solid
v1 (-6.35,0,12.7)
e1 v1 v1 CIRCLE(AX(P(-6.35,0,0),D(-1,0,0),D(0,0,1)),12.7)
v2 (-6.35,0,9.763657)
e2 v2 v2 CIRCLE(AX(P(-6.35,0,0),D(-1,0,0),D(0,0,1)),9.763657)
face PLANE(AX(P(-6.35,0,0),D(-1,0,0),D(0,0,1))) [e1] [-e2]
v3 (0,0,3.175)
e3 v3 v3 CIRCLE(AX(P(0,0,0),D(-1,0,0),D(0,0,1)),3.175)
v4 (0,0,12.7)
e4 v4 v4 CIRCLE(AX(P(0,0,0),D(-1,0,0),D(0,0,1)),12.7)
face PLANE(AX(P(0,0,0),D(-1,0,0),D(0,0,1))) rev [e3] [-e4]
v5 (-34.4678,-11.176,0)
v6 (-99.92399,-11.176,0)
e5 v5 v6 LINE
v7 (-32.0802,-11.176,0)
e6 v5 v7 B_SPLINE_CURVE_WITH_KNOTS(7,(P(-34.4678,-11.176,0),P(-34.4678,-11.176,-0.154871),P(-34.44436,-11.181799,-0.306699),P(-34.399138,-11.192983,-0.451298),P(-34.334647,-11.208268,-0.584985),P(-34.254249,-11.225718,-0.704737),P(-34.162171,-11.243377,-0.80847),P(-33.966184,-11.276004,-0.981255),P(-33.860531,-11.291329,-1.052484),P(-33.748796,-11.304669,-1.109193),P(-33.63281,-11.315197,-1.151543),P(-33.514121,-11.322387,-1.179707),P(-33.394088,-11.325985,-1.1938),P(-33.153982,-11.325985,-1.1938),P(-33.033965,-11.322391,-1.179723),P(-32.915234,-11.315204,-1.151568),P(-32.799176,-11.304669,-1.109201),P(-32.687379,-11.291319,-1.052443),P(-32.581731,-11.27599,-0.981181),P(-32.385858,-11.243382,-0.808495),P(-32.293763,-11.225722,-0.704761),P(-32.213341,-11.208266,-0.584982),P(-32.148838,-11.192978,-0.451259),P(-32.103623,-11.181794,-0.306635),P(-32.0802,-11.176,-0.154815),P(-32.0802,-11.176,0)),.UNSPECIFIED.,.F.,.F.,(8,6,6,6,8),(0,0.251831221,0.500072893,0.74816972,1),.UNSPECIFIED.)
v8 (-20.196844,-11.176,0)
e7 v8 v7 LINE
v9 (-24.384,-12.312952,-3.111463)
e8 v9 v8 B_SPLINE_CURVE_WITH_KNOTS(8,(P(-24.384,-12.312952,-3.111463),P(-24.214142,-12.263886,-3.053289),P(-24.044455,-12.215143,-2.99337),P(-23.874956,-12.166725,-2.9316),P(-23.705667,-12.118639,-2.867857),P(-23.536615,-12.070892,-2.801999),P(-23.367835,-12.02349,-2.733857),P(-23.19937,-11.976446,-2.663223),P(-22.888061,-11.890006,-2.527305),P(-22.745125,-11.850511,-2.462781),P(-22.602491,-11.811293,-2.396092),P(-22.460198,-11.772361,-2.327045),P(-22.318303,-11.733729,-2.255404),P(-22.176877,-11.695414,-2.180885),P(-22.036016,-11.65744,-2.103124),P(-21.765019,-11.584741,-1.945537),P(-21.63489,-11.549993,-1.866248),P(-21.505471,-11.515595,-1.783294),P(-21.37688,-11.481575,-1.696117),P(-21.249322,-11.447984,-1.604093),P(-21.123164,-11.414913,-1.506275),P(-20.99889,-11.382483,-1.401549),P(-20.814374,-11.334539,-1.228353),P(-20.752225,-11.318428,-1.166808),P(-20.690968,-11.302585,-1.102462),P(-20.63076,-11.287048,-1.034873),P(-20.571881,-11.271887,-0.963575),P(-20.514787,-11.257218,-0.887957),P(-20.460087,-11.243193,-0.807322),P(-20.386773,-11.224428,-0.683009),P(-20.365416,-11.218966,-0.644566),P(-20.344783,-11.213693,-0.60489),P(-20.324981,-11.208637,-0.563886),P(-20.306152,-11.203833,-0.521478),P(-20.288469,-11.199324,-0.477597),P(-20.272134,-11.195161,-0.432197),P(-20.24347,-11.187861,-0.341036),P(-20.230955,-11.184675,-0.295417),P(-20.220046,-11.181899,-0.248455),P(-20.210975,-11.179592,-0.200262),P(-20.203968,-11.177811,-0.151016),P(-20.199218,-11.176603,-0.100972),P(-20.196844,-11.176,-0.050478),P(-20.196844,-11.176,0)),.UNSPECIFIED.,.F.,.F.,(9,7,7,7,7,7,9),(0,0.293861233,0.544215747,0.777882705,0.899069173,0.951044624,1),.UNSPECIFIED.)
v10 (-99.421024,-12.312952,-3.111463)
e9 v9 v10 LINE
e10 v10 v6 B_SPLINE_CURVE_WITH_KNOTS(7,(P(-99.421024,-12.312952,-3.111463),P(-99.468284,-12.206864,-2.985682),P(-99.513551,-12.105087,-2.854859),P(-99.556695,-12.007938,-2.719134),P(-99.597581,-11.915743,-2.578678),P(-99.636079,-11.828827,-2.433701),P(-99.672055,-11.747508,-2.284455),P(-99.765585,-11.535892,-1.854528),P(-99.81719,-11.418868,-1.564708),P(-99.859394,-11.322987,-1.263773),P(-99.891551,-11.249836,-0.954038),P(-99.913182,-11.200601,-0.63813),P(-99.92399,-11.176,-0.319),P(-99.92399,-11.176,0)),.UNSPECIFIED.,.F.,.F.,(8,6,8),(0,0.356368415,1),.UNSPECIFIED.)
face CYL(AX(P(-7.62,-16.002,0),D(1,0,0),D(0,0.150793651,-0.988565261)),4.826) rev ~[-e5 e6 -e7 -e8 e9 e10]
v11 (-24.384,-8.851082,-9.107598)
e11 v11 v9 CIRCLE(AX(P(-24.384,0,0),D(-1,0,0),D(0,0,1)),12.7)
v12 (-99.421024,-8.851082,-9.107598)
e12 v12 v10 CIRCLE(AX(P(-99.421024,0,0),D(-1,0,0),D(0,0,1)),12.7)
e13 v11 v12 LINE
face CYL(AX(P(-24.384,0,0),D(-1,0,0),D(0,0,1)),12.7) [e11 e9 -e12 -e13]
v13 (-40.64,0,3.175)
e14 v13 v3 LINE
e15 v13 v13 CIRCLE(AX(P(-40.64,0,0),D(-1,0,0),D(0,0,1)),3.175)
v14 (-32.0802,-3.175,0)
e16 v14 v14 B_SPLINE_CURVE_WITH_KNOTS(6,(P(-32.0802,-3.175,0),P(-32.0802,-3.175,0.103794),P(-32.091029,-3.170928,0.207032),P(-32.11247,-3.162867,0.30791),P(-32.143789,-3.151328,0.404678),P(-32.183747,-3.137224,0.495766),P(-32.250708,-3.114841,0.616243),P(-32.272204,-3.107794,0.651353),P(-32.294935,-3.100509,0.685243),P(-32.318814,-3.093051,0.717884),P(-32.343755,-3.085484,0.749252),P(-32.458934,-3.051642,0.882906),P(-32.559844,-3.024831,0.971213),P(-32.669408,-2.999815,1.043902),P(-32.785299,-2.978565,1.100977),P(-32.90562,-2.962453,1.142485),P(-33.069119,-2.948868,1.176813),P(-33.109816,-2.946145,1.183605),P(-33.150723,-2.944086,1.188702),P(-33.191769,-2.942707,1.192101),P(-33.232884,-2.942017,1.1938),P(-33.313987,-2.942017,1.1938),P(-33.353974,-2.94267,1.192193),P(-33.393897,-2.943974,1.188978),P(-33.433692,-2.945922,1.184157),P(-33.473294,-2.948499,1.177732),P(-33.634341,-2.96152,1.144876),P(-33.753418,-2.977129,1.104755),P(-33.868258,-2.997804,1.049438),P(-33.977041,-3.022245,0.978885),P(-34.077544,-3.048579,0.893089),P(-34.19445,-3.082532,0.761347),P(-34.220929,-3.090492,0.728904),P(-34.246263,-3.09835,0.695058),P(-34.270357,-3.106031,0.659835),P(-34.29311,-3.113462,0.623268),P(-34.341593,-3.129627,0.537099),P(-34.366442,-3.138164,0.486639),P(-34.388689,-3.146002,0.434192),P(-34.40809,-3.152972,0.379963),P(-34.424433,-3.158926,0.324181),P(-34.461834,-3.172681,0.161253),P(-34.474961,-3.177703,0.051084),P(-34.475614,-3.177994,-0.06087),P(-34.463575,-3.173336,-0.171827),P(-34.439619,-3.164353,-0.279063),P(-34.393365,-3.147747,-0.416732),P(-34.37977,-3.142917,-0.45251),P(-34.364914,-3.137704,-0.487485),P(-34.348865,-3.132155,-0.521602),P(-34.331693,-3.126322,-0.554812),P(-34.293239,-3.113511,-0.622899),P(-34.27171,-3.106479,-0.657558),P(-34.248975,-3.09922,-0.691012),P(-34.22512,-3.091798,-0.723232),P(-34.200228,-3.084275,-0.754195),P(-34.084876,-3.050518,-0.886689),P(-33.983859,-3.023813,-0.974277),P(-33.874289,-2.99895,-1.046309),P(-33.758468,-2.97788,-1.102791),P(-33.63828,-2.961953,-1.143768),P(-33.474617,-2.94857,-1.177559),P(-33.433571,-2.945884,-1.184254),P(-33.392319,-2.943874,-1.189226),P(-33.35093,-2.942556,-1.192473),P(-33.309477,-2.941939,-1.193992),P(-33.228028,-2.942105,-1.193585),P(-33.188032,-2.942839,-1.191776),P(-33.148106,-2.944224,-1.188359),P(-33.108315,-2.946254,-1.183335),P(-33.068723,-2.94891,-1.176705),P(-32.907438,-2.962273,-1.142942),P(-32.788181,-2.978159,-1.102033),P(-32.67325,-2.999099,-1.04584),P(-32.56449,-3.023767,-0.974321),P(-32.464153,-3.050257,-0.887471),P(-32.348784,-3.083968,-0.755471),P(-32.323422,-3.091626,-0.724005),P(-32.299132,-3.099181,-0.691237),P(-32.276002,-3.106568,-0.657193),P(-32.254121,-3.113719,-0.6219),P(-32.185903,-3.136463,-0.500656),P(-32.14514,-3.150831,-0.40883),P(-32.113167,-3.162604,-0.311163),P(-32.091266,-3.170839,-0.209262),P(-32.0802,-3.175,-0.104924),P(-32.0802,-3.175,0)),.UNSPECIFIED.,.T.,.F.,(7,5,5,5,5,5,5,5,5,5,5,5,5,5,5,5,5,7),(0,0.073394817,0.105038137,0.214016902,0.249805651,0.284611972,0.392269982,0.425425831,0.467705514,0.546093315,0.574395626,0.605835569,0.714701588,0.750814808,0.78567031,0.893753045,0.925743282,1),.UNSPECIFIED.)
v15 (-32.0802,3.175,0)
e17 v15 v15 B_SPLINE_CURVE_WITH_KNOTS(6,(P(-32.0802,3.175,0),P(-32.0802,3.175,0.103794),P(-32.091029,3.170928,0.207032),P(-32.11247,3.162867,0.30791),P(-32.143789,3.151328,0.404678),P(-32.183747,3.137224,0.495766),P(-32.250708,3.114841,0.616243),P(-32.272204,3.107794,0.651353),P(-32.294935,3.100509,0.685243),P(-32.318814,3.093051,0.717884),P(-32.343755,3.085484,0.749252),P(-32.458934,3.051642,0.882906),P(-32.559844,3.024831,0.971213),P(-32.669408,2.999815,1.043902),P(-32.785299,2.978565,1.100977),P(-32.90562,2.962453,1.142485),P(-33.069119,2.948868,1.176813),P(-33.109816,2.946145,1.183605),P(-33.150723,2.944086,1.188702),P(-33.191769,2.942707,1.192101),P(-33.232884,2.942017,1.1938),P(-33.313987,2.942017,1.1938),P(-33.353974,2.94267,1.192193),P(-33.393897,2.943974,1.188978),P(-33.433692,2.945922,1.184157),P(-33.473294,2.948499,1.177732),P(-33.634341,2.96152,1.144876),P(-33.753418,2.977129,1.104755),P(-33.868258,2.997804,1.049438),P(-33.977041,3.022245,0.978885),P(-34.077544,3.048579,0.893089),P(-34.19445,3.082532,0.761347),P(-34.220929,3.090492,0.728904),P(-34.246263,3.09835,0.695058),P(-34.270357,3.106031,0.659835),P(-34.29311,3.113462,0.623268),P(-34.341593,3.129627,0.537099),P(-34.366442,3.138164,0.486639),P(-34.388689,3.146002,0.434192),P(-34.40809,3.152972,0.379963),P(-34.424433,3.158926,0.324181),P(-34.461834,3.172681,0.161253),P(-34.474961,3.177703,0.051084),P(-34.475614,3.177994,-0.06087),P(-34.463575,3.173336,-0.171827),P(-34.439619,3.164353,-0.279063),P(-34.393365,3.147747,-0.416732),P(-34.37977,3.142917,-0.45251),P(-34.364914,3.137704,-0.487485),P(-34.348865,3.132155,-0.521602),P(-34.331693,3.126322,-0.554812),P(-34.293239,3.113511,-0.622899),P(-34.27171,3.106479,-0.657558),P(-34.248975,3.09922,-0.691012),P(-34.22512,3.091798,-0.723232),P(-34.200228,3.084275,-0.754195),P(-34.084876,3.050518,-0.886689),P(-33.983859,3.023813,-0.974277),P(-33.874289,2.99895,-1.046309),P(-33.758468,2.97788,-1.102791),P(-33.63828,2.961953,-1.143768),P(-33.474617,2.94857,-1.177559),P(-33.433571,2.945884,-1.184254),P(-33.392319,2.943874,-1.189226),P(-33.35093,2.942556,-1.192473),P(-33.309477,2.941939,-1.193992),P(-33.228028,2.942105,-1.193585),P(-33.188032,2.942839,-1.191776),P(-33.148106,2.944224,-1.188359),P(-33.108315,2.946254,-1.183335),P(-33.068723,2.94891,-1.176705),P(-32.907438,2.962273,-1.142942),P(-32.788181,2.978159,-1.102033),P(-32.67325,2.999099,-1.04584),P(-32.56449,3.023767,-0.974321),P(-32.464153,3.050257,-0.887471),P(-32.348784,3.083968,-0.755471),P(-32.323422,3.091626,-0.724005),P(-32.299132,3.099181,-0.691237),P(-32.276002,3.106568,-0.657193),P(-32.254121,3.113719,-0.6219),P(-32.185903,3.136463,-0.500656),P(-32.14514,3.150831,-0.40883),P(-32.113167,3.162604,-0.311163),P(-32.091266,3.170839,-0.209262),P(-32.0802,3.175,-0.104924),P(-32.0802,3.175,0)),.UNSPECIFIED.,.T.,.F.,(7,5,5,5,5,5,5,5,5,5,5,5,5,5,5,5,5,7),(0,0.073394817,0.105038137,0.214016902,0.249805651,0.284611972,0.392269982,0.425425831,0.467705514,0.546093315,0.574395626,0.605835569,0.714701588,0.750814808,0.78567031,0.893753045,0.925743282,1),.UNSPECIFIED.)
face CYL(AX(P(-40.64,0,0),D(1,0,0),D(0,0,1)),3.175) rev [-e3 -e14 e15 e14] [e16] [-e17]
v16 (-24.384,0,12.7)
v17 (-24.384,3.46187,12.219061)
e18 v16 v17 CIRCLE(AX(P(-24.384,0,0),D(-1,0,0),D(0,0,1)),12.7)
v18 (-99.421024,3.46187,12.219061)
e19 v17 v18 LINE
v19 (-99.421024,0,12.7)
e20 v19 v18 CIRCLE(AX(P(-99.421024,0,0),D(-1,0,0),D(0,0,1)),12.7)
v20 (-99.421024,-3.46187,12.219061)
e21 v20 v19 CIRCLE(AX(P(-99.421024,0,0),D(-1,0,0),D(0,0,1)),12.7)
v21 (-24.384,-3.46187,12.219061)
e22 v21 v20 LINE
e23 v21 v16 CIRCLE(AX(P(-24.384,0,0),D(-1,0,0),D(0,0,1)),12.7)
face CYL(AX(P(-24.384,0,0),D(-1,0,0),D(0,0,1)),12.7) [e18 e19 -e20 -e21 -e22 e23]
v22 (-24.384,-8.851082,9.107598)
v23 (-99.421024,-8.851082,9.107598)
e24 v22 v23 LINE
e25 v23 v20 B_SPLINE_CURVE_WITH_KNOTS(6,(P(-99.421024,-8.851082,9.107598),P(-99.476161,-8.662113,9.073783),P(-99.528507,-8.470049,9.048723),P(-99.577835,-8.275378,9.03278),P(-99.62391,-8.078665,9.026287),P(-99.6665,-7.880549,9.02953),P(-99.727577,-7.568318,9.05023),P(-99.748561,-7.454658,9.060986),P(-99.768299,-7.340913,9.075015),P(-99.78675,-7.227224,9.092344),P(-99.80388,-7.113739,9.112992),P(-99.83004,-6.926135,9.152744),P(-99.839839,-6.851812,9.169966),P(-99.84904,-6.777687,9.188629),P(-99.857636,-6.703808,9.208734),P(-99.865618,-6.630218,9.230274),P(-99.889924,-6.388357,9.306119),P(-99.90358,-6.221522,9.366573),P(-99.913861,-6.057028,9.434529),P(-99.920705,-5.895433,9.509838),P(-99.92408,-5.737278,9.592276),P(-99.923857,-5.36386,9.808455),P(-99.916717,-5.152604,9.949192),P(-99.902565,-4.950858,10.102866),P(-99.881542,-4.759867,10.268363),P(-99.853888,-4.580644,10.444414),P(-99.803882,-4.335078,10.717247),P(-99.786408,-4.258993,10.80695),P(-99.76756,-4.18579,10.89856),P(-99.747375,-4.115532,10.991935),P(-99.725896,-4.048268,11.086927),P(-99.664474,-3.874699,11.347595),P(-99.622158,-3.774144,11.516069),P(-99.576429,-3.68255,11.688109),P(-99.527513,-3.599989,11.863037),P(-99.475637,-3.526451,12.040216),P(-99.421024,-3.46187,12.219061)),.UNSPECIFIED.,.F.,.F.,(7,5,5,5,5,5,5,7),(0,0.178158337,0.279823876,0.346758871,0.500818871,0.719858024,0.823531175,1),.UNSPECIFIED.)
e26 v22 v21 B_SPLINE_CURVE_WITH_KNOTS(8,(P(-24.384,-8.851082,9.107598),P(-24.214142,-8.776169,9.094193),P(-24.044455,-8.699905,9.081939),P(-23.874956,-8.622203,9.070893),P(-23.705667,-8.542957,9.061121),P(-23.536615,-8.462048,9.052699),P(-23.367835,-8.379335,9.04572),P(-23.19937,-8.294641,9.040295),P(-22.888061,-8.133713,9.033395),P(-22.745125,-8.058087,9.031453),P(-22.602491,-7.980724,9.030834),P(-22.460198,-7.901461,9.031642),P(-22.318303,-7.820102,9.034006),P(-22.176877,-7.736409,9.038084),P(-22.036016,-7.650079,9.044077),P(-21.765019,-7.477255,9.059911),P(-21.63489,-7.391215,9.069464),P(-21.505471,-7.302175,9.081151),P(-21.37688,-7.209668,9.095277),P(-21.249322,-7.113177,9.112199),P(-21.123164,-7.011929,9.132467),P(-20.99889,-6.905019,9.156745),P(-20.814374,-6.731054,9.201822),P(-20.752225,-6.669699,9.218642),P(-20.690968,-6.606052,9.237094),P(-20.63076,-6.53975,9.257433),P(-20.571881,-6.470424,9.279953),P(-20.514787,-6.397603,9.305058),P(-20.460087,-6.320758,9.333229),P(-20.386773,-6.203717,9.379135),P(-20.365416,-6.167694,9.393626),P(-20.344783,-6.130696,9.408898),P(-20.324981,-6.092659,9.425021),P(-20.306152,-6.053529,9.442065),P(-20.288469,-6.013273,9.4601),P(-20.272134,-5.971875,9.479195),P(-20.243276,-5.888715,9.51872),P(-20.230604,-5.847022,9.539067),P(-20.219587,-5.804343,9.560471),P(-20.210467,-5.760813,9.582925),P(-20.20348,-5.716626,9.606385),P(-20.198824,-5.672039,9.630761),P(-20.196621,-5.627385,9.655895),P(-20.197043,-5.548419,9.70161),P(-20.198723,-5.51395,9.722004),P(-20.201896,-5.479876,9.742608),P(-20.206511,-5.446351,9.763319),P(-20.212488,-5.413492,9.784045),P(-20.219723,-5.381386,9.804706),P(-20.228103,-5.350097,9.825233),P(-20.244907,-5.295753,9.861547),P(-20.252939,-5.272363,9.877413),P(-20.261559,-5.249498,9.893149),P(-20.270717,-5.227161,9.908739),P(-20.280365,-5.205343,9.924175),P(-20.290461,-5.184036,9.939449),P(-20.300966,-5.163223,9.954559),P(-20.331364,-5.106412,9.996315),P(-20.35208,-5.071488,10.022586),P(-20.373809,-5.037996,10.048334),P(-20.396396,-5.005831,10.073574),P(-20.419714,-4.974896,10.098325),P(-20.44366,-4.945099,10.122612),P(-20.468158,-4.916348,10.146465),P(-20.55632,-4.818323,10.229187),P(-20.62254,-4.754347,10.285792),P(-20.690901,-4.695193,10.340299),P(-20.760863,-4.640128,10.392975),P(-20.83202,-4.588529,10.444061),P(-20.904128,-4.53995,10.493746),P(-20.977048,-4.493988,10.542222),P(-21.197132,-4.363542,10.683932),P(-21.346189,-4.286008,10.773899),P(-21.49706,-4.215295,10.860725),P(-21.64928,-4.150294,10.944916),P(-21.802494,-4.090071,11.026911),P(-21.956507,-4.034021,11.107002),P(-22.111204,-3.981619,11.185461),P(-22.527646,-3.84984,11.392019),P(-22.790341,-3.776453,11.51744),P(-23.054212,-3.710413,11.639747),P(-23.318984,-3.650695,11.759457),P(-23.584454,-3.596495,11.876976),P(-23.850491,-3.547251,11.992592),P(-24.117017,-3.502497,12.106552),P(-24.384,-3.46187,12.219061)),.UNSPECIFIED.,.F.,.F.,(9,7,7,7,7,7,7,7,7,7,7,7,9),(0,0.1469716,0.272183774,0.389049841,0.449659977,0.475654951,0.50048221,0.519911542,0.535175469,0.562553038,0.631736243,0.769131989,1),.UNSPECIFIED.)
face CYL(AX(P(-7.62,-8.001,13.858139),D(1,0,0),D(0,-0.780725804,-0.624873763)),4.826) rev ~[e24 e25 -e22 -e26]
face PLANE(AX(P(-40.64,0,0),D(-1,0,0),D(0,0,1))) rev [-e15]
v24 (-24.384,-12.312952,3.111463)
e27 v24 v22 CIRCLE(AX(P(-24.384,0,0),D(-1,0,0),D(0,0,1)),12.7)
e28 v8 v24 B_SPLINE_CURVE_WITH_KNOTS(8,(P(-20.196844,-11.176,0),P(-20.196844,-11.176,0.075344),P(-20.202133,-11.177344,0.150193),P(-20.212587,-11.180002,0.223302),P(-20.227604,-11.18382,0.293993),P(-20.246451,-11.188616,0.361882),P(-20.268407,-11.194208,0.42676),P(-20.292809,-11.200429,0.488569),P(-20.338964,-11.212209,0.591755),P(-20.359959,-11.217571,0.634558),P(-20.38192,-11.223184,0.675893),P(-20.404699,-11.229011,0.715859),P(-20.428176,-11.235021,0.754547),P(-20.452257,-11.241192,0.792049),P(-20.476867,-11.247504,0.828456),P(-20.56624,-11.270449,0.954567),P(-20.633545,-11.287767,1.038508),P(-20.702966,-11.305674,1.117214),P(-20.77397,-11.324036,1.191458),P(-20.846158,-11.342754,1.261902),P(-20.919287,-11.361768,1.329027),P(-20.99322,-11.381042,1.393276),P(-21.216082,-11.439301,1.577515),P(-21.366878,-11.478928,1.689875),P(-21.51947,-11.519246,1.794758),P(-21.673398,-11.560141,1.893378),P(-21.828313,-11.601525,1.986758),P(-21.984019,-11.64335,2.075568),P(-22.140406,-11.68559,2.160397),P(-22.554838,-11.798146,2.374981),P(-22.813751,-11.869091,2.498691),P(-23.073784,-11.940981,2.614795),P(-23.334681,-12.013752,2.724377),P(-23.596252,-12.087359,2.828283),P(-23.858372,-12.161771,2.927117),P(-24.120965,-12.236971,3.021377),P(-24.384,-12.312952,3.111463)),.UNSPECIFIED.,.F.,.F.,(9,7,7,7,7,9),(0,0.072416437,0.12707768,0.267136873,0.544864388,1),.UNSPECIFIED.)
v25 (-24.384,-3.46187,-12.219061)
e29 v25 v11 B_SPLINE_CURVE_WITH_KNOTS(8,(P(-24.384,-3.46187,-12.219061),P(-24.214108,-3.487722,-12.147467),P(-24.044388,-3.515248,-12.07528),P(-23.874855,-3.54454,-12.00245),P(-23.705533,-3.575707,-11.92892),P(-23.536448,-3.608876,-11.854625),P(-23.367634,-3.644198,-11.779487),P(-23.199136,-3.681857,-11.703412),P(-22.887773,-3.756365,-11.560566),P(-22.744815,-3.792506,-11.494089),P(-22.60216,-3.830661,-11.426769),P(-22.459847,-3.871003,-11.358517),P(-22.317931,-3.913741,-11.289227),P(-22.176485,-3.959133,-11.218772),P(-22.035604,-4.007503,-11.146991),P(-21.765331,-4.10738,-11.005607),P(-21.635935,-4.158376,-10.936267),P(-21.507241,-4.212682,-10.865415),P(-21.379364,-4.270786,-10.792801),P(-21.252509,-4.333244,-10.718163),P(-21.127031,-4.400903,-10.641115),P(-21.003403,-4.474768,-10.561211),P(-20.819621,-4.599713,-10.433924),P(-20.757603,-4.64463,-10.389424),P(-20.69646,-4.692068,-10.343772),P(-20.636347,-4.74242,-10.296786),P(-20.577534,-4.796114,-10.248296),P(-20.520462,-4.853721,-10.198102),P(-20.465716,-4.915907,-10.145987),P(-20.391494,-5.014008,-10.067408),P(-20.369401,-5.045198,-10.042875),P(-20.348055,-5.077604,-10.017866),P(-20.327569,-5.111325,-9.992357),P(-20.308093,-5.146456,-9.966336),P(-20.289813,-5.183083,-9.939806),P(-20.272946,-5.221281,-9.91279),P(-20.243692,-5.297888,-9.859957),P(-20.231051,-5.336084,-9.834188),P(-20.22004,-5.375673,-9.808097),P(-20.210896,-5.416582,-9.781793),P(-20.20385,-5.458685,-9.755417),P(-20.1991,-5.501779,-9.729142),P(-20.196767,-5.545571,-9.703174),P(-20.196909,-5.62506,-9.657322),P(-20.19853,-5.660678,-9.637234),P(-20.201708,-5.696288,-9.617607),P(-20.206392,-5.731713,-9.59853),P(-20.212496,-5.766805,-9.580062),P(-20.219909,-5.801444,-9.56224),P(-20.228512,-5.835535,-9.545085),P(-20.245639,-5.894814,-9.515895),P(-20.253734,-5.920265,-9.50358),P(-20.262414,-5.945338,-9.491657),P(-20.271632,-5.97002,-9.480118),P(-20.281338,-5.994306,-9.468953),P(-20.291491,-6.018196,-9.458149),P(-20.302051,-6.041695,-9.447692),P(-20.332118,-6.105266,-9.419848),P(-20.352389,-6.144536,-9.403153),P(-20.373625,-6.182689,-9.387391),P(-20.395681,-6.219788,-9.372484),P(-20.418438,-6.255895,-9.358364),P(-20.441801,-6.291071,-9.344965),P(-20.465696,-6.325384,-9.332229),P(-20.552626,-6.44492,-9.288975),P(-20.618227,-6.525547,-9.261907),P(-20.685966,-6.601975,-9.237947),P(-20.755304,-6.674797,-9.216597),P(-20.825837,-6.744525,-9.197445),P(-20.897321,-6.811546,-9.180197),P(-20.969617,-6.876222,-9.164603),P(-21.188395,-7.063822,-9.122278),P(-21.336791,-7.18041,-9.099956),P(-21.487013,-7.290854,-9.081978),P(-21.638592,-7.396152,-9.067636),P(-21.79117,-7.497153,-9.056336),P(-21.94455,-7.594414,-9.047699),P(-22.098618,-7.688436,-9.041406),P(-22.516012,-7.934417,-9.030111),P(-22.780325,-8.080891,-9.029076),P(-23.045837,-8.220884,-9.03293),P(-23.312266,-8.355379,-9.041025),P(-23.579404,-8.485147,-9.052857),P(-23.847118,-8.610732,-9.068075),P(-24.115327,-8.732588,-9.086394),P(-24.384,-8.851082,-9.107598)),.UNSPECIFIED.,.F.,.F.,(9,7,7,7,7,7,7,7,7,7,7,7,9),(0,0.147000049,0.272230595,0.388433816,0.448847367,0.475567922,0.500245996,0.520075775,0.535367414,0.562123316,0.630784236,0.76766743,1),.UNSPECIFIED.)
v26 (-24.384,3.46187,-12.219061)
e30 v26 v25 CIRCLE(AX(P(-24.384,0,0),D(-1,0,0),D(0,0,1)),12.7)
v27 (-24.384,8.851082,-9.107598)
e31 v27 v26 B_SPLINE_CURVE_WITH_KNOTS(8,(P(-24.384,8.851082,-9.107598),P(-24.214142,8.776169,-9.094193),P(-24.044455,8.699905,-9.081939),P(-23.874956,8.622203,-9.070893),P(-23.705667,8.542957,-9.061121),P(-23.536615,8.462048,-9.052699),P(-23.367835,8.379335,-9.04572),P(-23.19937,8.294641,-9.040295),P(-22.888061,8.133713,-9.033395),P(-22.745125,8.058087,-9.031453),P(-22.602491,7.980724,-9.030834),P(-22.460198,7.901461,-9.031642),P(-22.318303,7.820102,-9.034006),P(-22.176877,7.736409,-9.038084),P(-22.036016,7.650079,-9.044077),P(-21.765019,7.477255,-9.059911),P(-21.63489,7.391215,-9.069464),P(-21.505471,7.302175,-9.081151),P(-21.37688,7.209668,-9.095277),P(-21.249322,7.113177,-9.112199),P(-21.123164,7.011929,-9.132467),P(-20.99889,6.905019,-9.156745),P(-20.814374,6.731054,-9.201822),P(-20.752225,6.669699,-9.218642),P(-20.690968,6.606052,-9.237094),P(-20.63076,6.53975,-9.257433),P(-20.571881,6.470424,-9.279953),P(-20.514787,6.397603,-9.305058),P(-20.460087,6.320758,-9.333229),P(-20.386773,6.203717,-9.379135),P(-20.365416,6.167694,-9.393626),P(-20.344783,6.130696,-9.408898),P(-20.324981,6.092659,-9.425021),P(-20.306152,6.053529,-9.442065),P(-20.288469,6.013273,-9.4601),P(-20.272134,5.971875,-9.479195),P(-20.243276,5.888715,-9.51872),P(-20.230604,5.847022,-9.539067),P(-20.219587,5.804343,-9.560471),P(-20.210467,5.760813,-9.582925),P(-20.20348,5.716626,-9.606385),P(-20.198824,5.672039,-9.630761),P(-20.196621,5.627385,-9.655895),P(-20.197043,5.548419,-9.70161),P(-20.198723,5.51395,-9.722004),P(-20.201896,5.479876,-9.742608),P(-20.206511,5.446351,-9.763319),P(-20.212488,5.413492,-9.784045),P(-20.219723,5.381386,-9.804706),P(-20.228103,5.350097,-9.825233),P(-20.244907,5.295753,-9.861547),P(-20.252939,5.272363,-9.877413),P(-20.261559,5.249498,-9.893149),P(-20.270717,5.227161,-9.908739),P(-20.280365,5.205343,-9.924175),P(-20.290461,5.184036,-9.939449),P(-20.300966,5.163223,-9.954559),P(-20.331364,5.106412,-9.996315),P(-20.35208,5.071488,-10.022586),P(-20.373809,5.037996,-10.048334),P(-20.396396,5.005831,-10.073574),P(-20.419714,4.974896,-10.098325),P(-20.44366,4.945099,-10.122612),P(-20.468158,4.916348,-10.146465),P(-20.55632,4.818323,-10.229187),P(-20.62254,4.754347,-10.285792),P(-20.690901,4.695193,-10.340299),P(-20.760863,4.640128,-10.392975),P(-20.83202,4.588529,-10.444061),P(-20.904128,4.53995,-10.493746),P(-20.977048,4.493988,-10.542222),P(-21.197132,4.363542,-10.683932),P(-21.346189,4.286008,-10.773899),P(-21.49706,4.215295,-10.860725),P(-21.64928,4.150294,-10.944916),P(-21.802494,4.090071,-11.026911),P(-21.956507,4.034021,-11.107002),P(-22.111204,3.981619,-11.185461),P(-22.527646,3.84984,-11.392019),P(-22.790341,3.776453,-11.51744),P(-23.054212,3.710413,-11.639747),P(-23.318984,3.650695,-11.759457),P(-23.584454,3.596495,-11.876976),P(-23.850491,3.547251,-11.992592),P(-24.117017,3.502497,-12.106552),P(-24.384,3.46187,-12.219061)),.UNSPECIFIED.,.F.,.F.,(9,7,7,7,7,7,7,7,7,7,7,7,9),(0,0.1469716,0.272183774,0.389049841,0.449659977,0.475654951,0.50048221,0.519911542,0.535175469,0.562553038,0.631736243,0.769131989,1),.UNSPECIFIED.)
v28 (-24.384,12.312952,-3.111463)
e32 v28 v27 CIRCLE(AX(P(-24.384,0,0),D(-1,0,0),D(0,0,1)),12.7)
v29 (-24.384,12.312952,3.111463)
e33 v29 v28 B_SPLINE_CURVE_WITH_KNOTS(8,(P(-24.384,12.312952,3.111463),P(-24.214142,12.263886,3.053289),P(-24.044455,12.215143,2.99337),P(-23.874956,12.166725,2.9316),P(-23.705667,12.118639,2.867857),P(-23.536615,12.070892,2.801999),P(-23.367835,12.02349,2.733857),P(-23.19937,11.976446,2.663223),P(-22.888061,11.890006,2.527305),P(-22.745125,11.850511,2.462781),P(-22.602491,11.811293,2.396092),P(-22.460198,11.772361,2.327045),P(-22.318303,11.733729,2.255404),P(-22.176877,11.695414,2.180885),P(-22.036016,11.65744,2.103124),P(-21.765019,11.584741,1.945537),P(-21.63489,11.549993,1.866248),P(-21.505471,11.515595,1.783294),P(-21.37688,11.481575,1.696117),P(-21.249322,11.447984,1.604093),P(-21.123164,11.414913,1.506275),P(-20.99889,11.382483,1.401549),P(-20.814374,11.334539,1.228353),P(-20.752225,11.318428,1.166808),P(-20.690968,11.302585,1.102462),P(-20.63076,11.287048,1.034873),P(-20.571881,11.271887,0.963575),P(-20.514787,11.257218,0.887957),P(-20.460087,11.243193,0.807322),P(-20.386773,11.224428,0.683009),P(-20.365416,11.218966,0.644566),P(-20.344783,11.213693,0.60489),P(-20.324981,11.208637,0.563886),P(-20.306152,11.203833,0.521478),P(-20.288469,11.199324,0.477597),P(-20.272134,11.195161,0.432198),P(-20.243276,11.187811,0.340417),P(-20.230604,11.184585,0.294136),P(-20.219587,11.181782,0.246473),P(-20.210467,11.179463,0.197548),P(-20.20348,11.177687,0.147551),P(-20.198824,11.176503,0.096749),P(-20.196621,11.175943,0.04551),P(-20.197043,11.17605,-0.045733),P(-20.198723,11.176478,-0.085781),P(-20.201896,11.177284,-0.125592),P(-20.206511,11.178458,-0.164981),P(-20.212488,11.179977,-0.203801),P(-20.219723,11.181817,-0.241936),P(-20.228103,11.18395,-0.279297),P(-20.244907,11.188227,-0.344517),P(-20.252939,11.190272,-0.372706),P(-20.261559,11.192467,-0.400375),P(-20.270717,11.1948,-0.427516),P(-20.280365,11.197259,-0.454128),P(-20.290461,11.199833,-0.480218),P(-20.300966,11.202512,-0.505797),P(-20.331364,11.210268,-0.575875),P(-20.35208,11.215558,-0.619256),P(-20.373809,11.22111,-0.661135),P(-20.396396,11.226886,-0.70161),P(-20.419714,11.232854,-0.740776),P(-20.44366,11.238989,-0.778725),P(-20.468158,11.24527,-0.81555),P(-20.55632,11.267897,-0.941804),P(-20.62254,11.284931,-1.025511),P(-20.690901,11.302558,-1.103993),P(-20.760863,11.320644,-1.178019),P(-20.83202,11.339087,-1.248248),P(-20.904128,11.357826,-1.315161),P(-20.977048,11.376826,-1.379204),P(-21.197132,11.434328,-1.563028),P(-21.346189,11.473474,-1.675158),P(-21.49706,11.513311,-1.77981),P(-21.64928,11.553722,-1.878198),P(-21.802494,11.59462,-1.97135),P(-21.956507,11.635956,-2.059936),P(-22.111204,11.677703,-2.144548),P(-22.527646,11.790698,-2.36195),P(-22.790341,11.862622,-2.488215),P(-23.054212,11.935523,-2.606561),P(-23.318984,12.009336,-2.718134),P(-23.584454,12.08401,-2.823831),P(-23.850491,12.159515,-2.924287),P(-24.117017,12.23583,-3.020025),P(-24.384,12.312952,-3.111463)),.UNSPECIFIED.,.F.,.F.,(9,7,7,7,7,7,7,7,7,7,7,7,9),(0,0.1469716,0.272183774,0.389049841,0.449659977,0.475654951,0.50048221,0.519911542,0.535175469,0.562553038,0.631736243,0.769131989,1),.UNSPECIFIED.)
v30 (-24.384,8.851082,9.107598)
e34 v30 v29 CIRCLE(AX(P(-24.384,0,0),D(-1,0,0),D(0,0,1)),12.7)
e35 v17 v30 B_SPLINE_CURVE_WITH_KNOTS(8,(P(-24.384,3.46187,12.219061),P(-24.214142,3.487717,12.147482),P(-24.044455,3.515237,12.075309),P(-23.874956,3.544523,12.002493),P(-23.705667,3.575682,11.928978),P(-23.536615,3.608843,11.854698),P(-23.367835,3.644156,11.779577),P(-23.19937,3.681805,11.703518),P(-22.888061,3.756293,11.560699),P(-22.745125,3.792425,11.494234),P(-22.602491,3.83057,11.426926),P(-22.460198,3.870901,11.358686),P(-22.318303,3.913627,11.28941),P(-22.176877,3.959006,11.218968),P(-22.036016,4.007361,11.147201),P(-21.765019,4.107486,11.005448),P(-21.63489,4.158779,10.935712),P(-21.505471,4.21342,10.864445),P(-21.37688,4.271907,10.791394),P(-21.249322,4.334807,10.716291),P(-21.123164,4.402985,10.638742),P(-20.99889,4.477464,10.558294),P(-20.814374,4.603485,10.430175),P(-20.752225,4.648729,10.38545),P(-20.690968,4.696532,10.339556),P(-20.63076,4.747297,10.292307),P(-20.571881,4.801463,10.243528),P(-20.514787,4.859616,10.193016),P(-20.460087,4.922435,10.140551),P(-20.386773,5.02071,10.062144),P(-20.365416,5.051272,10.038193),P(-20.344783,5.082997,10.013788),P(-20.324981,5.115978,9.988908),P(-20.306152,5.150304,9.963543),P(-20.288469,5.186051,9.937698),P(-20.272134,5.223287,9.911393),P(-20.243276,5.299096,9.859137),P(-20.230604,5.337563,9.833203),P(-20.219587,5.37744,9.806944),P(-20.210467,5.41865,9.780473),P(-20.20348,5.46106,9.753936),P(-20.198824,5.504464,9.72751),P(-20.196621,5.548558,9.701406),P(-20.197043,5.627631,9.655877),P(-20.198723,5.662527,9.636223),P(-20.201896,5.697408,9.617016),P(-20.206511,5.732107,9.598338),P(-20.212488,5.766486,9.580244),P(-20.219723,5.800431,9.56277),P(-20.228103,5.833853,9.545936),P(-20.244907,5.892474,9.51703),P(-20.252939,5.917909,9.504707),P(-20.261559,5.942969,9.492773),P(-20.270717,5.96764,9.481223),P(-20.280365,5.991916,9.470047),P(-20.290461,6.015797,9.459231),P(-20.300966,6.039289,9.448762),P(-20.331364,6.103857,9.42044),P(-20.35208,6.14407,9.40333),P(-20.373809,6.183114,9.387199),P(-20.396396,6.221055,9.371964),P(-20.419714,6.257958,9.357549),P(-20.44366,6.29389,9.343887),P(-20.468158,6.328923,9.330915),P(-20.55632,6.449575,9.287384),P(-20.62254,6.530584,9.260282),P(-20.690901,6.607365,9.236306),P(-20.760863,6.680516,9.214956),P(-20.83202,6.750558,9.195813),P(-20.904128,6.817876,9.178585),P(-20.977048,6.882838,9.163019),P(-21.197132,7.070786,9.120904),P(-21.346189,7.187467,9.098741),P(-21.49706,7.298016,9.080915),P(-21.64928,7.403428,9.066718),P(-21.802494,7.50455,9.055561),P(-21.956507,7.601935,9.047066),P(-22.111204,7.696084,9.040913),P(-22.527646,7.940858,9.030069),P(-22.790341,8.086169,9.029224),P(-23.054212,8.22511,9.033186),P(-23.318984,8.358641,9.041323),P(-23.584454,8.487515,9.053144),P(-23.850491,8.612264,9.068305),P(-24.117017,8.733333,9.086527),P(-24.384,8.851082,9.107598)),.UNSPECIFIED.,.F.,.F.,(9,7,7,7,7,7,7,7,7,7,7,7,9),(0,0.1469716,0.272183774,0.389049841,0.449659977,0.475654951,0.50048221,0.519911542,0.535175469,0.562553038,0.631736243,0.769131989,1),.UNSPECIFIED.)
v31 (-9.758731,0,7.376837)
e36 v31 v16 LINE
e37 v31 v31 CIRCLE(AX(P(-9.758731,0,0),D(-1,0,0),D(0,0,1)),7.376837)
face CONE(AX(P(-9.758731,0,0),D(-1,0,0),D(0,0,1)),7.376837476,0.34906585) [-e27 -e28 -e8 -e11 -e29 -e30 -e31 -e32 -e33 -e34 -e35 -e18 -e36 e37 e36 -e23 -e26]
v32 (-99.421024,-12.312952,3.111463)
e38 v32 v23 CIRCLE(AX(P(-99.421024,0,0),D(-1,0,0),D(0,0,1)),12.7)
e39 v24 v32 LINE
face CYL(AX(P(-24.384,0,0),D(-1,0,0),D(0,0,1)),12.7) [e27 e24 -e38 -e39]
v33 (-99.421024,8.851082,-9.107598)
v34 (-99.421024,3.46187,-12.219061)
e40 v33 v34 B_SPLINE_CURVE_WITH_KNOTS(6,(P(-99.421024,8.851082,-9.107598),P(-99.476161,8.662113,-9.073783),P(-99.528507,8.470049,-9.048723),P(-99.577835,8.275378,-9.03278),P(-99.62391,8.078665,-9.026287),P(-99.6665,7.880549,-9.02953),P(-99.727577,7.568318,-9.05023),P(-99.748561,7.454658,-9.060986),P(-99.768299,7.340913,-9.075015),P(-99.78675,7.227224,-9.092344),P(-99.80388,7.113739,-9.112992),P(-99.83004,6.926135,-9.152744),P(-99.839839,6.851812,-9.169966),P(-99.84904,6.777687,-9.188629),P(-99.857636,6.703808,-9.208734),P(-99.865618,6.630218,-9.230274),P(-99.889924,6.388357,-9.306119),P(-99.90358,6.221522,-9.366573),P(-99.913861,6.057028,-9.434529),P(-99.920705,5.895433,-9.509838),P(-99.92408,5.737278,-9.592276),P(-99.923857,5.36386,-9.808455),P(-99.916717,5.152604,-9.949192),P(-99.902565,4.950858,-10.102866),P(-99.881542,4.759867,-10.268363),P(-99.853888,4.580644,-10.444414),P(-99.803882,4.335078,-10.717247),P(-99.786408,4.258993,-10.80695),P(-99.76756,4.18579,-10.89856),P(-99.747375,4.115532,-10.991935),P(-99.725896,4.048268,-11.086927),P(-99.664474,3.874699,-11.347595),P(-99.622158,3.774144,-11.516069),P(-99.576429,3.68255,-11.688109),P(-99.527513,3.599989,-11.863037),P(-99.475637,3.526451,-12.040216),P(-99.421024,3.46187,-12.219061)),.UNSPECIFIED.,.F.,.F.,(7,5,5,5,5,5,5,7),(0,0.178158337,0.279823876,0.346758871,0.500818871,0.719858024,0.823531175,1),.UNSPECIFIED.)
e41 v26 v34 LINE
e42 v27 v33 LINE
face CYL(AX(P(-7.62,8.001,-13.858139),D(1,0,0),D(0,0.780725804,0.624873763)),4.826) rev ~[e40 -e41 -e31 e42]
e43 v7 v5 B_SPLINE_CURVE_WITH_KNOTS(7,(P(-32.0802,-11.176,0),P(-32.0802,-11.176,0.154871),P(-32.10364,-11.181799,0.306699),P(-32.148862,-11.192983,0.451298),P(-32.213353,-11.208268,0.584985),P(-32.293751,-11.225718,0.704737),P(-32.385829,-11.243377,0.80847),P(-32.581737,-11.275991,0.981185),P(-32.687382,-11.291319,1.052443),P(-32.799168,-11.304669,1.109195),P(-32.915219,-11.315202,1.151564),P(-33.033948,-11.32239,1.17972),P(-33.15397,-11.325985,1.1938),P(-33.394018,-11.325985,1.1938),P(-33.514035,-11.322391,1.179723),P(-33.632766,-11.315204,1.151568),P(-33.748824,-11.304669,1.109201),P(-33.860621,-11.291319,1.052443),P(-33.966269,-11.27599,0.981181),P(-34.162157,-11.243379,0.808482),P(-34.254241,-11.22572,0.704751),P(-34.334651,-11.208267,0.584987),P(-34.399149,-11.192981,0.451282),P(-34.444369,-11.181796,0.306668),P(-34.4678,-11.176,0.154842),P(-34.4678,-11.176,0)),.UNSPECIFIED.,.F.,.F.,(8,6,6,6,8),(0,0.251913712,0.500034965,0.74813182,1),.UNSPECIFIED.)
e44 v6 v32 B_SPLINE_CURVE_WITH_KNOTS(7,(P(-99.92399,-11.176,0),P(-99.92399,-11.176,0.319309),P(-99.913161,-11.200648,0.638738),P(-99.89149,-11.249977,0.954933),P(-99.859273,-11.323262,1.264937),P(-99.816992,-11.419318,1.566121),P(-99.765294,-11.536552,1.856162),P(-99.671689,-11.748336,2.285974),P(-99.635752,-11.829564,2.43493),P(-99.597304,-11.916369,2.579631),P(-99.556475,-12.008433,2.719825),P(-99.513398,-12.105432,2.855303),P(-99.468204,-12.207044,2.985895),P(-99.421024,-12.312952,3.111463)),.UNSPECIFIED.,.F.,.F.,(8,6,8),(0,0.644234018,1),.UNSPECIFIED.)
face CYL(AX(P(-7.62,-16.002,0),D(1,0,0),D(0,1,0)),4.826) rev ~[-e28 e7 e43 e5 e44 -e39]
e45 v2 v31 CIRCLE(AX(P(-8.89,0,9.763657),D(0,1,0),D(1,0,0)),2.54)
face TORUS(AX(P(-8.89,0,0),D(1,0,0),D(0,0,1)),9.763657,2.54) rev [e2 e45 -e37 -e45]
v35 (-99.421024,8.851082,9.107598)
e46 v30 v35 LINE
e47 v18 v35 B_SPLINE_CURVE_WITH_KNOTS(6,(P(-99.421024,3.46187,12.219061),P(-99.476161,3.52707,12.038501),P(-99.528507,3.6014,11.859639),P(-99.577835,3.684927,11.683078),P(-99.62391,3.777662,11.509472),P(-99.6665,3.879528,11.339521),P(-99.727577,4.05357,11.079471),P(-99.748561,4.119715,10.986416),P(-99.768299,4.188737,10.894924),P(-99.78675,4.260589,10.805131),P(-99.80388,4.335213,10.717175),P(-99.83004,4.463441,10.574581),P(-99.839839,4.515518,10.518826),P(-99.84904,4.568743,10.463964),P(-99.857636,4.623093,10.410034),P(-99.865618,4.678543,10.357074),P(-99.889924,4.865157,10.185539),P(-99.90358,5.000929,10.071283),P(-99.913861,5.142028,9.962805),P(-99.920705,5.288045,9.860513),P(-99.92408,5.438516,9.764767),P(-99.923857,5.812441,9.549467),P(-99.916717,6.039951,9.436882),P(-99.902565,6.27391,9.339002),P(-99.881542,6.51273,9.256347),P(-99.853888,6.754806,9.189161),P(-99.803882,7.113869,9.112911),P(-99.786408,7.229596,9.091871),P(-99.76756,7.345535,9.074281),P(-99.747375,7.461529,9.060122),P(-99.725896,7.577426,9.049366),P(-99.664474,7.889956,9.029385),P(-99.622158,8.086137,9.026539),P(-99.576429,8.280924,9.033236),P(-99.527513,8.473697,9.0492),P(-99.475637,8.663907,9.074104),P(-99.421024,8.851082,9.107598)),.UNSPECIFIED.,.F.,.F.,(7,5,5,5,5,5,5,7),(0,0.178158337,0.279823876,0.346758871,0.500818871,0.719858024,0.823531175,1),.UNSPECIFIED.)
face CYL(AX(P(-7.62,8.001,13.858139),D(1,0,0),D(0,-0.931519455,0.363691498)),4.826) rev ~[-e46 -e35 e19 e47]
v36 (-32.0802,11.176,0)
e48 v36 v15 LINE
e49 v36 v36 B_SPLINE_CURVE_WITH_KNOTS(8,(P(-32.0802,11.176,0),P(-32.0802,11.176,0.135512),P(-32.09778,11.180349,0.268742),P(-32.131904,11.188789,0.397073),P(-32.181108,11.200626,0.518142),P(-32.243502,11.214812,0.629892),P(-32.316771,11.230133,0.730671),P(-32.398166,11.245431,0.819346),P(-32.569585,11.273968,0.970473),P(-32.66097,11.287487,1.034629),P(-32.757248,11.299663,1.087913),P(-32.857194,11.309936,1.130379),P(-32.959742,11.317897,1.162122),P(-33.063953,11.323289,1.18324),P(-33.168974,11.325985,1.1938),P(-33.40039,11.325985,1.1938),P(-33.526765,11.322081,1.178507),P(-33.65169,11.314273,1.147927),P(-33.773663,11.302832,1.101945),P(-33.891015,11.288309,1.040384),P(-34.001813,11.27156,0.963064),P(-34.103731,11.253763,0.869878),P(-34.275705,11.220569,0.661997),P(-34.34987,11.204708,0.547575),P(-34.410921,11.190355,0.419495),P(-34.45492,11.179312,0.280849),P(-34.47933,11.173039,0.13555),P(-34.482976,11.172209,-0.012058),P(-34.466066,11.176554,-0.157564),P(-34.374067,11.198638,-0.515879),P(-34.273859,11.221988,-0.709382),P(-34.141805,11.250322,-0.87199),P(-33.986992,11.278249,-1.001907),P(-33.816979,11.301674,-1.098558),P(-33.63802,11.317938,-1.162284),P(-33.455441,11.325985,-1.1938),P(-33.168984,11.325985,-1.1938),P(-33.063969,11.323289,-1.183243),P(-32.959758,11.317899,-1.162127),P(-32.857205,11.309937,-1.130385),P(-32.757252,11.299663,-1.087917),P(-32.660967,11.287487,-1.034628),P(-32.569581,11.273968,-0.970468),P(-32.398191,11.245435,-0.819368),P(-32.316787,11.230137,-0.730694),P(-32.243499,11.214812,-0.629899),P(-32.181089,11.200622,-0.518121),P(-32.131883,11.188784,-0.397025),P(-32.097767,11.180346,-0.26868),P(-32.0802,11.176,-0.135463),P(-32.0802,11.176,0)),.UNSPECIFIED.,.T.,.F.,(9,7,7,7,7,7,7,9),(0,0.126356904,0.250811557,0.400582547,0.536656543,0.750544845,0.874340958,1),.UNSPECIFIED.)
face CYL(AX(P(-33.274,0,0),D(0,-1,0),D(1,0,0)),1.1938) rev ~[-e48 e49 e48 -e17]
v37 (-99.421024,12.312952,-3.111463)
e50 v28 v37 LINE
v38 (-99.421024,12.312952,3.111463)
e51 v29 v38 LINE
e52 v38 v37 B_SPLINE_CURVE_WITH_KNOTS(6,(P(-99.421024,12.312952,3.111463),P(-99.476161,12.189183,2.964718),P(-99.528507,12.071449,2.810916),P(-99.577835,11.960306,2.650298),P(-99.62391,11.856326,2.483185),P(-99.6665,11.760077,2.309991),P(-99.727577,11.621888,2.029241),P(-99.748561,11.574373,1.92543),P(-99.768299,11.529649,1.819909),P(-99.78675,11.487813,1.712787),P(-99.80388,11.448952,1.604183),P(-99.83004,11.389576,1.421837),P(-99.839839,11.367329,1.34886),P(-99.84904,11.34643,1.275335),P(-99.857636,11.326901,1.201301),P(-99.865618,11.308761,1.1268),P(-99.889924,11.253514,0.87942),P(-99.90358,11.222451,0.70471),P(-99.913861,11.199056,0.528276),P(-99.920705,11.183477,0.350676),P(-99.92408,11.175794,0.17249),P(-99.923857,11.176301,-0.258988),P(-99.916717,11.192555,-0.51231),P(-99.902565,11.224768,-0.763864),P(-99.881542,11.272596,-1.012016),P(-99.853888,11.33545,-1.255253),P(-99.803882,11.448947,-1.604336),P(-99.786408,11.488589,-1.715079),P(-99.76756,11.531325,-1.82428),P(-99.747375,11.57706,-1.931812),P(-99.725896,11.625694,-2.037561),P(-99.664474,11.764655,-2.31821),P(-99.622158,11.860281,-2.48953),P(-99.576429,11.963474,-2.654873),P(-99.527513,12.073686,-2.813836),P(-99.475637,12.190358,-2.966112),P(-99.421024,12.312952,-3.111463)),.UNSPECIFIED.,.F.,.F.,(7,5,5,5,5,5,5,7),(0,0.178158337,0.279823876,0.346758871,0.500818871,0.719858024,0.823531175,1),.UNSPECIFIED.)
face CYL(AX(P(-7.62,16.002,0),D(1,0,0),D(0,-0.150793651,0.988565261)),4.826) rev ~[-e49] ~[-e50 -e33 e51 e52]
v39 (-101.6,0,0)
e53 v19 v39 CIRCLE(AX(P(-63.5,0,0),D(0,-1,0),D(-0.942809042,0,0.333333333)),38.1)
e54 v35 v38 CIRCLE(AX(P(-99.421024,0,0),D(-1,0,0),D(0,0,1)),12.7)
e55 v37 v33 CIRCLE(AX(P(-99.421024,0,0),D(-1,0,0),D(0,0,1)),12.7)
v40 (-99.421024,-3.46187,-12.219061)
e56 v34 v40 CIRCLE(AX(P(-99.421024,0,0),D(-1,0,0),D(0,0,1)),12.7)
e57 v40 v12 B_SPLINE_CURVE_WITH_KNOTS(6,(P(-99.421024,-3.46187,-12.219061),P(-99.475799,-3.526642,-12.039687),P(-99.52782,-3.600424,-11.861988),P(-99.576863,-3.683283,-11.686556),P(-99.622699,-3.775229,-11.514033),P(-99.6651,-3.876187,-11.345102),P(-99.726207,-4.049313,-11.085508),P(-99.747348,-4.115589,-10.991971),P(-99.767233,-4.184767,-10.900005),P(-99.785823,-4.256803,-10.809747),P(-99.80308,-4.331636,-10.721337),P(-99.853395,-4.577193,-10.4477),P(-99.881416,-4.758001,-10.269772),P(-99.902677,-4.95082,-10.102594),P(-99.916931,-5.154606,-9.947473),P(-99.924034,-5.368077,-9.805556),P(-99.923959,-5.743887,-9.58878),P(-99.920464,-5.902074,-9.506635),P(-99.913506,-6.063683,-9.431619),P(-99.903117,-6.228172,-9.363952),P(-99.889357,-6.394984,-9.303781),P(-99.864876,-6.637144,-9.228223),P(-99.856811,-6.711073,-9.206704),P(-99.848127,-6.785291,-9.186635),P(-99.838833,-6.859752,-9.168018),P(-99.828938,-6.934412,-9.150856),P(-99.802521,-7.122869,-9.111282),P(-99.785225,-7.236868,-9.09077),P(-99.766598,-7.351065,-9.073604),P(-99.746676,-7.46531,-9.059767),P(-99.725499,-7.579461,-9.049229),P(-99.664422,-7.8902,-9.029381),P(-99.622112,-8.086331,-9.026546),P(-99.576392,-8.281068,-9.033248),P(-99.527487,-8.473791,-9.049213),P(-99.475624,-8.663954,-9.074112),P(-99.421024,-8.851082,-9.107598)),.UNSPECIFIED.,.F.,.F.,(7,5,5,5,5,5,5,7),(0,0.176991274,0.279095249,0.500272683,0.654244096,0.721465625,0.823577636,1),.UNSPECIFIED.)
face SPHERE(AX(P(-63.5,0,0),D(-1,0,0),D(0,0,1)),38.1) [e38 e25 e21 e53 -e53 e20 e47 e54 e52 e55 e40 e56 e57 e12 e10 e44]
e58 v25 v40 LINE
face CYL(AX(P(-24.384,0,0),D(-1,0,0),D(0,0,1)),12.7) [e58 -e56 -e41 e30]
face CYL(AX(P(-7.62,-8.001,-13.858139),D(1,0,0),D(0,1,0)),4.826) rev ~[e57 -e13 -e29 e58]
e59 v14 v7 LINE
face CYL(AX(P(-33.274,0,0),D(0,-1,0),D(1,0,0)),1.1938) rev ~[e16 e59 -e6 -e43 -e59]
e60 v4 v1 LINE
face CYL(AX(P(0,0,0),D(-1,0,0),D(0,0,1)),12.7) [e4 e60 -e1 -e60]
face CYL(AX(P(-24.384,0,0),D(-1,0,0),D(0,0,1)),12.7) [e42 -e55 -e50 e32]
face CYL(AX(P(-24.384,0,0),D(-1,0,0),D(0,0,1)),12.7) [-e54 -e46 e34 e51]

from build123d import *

# Parameters (mm, degrees)
F4_START = -7.62
F4_DEPTH = 93.981
F5_R     = 1.1938
F6_DEPTH = 12.7


with BuildPart() as f1:
    # F0 (on Front) → F1 (revolve)
    with BuildSketch(Plane.XZ):
        with BuildLine():
            Line((-40.64, 3.175), (0, 3.175))
            Line((0, 3.175), (0, 12.7))
            Line((0, 12.7), (-6.35, 12.7))
            Line((-6.35, 12.7), (-6.35, 9.7636567324))
            ThreePointArc((-6.35, 9.7636567324), (-7.4331158517, 7.6830105399), (-9.758731164, 7.3768374756))
            Line((-9.758731164, 7.3768374756), (-24.384, 12.7))
            Line((-24.384, 12.7), (-99.4210244843, 12.7))
            ThreePointArc((-99.4210244843, 12.7), (-101.0513051228, 6.4427853895), (-101.6, 0))
            Line((-101.6, 0), (-40.64, 0))
            Line((-40.64, 0), (-40.64, 3.175))
        make_face()
    revolve(axis=Axis((-71.12, 0, 0), (-1, 0, 0)))

    # F2 (on Right) → F4 (cut)
    with BuildSketch(Plane.YZ.offset(F4_START)):
        with BuildLine():
            ThreePointArc((-3.175, 13.8581385114), (-3.2583413998, 14.751147695), (-3.5054871123, 15.6133136811))
            ThreePointArc((-3.5054871123, 15.6133136811), (-8.001, 13.8581385114), (-11.768782729, 10.8424977325))
            ThreePointArc((-11.768782729, 10.8424977325), (-6.4030393387, 9.3043710903), (-3.175, 13.8581385114))
        make_face()
        with BuildLine():
            ThreePointArc((3.5054871123, 15.6133136811), (5.588, 9.6786999127), (11.768782729, 10.8424977325))
            ThreePointArc((11.768782729, 10.8424977325), (8.001, 13.8581385114), (3.5054871123, 15.6133136811))
        make_face()
        with BuildLine():
            ThreePointArc((15.2742698413, -4.7708159487), (15.8190213035, -2.413), (16.002, 0))
            ThreePointArc((16.002, 0), (15.8190213035, 2.413), (15.2742698413, 4.7708159487))
            ThreePointArc((15.2742698413, 4.7708159487), (11.176, 0), (15.2742698413, -4.7708159487))
        make_face()
        with BuildLine():
            ThreePointArc((3.5054871123, -15.6133136811), (8.001, -13.8581385114), (11.768782729, -10.8424977325))
            ThreePointArc((11.768782729, -10.8424977325), (5.588, -9.6786999127), (3.5054871123, -15.6133136811))
        make_face()
        with BuildLine():
            ThreePointArc((-11.768782729, -10.8424977325), (-8.001, -13.8581385114), (-3.5054871123, -15.6133136811))
            ThreePointArc((-3.5054871123, -15.6133136811), (-3.2583413998, -14.751147695), (-3.175, -13.8581385114))
            ThreePointArc((-3.175, -13.8581385114), (-6.4030393387, -9.3043710903), (-11.768782729, -10.8424977325))
        make_face()
        with BuildLine():
            ThreePointArc((-11.176, 0), (-12.3412417626, 3.1446979389), (-15.2742698413, 4.7708159487))
            ThreePointArc((-15.2742698413, 4.7708159487), (-16.002, 0), (-15.2742698413, -4.7708159487))
            ThreePointArc((-15.2742698413, -4.7708159487), (-12.3412417626, -3.1446979389), (-11.176, 0))
        make_face()
    extrude(amount=-F4_DEPTH, mode=Mode.SUBTRACT)

    # F5 (on Front) → F6 (cut, symmetric)
    with BuildSketch(Plane.XZ):
        with Locations((-33.274, 0)):
            Circle(F5_R)
    extrude(amount=F6_DEPTH, both=True, mode=Mode.SUBTRACT)


solid = f1.part
